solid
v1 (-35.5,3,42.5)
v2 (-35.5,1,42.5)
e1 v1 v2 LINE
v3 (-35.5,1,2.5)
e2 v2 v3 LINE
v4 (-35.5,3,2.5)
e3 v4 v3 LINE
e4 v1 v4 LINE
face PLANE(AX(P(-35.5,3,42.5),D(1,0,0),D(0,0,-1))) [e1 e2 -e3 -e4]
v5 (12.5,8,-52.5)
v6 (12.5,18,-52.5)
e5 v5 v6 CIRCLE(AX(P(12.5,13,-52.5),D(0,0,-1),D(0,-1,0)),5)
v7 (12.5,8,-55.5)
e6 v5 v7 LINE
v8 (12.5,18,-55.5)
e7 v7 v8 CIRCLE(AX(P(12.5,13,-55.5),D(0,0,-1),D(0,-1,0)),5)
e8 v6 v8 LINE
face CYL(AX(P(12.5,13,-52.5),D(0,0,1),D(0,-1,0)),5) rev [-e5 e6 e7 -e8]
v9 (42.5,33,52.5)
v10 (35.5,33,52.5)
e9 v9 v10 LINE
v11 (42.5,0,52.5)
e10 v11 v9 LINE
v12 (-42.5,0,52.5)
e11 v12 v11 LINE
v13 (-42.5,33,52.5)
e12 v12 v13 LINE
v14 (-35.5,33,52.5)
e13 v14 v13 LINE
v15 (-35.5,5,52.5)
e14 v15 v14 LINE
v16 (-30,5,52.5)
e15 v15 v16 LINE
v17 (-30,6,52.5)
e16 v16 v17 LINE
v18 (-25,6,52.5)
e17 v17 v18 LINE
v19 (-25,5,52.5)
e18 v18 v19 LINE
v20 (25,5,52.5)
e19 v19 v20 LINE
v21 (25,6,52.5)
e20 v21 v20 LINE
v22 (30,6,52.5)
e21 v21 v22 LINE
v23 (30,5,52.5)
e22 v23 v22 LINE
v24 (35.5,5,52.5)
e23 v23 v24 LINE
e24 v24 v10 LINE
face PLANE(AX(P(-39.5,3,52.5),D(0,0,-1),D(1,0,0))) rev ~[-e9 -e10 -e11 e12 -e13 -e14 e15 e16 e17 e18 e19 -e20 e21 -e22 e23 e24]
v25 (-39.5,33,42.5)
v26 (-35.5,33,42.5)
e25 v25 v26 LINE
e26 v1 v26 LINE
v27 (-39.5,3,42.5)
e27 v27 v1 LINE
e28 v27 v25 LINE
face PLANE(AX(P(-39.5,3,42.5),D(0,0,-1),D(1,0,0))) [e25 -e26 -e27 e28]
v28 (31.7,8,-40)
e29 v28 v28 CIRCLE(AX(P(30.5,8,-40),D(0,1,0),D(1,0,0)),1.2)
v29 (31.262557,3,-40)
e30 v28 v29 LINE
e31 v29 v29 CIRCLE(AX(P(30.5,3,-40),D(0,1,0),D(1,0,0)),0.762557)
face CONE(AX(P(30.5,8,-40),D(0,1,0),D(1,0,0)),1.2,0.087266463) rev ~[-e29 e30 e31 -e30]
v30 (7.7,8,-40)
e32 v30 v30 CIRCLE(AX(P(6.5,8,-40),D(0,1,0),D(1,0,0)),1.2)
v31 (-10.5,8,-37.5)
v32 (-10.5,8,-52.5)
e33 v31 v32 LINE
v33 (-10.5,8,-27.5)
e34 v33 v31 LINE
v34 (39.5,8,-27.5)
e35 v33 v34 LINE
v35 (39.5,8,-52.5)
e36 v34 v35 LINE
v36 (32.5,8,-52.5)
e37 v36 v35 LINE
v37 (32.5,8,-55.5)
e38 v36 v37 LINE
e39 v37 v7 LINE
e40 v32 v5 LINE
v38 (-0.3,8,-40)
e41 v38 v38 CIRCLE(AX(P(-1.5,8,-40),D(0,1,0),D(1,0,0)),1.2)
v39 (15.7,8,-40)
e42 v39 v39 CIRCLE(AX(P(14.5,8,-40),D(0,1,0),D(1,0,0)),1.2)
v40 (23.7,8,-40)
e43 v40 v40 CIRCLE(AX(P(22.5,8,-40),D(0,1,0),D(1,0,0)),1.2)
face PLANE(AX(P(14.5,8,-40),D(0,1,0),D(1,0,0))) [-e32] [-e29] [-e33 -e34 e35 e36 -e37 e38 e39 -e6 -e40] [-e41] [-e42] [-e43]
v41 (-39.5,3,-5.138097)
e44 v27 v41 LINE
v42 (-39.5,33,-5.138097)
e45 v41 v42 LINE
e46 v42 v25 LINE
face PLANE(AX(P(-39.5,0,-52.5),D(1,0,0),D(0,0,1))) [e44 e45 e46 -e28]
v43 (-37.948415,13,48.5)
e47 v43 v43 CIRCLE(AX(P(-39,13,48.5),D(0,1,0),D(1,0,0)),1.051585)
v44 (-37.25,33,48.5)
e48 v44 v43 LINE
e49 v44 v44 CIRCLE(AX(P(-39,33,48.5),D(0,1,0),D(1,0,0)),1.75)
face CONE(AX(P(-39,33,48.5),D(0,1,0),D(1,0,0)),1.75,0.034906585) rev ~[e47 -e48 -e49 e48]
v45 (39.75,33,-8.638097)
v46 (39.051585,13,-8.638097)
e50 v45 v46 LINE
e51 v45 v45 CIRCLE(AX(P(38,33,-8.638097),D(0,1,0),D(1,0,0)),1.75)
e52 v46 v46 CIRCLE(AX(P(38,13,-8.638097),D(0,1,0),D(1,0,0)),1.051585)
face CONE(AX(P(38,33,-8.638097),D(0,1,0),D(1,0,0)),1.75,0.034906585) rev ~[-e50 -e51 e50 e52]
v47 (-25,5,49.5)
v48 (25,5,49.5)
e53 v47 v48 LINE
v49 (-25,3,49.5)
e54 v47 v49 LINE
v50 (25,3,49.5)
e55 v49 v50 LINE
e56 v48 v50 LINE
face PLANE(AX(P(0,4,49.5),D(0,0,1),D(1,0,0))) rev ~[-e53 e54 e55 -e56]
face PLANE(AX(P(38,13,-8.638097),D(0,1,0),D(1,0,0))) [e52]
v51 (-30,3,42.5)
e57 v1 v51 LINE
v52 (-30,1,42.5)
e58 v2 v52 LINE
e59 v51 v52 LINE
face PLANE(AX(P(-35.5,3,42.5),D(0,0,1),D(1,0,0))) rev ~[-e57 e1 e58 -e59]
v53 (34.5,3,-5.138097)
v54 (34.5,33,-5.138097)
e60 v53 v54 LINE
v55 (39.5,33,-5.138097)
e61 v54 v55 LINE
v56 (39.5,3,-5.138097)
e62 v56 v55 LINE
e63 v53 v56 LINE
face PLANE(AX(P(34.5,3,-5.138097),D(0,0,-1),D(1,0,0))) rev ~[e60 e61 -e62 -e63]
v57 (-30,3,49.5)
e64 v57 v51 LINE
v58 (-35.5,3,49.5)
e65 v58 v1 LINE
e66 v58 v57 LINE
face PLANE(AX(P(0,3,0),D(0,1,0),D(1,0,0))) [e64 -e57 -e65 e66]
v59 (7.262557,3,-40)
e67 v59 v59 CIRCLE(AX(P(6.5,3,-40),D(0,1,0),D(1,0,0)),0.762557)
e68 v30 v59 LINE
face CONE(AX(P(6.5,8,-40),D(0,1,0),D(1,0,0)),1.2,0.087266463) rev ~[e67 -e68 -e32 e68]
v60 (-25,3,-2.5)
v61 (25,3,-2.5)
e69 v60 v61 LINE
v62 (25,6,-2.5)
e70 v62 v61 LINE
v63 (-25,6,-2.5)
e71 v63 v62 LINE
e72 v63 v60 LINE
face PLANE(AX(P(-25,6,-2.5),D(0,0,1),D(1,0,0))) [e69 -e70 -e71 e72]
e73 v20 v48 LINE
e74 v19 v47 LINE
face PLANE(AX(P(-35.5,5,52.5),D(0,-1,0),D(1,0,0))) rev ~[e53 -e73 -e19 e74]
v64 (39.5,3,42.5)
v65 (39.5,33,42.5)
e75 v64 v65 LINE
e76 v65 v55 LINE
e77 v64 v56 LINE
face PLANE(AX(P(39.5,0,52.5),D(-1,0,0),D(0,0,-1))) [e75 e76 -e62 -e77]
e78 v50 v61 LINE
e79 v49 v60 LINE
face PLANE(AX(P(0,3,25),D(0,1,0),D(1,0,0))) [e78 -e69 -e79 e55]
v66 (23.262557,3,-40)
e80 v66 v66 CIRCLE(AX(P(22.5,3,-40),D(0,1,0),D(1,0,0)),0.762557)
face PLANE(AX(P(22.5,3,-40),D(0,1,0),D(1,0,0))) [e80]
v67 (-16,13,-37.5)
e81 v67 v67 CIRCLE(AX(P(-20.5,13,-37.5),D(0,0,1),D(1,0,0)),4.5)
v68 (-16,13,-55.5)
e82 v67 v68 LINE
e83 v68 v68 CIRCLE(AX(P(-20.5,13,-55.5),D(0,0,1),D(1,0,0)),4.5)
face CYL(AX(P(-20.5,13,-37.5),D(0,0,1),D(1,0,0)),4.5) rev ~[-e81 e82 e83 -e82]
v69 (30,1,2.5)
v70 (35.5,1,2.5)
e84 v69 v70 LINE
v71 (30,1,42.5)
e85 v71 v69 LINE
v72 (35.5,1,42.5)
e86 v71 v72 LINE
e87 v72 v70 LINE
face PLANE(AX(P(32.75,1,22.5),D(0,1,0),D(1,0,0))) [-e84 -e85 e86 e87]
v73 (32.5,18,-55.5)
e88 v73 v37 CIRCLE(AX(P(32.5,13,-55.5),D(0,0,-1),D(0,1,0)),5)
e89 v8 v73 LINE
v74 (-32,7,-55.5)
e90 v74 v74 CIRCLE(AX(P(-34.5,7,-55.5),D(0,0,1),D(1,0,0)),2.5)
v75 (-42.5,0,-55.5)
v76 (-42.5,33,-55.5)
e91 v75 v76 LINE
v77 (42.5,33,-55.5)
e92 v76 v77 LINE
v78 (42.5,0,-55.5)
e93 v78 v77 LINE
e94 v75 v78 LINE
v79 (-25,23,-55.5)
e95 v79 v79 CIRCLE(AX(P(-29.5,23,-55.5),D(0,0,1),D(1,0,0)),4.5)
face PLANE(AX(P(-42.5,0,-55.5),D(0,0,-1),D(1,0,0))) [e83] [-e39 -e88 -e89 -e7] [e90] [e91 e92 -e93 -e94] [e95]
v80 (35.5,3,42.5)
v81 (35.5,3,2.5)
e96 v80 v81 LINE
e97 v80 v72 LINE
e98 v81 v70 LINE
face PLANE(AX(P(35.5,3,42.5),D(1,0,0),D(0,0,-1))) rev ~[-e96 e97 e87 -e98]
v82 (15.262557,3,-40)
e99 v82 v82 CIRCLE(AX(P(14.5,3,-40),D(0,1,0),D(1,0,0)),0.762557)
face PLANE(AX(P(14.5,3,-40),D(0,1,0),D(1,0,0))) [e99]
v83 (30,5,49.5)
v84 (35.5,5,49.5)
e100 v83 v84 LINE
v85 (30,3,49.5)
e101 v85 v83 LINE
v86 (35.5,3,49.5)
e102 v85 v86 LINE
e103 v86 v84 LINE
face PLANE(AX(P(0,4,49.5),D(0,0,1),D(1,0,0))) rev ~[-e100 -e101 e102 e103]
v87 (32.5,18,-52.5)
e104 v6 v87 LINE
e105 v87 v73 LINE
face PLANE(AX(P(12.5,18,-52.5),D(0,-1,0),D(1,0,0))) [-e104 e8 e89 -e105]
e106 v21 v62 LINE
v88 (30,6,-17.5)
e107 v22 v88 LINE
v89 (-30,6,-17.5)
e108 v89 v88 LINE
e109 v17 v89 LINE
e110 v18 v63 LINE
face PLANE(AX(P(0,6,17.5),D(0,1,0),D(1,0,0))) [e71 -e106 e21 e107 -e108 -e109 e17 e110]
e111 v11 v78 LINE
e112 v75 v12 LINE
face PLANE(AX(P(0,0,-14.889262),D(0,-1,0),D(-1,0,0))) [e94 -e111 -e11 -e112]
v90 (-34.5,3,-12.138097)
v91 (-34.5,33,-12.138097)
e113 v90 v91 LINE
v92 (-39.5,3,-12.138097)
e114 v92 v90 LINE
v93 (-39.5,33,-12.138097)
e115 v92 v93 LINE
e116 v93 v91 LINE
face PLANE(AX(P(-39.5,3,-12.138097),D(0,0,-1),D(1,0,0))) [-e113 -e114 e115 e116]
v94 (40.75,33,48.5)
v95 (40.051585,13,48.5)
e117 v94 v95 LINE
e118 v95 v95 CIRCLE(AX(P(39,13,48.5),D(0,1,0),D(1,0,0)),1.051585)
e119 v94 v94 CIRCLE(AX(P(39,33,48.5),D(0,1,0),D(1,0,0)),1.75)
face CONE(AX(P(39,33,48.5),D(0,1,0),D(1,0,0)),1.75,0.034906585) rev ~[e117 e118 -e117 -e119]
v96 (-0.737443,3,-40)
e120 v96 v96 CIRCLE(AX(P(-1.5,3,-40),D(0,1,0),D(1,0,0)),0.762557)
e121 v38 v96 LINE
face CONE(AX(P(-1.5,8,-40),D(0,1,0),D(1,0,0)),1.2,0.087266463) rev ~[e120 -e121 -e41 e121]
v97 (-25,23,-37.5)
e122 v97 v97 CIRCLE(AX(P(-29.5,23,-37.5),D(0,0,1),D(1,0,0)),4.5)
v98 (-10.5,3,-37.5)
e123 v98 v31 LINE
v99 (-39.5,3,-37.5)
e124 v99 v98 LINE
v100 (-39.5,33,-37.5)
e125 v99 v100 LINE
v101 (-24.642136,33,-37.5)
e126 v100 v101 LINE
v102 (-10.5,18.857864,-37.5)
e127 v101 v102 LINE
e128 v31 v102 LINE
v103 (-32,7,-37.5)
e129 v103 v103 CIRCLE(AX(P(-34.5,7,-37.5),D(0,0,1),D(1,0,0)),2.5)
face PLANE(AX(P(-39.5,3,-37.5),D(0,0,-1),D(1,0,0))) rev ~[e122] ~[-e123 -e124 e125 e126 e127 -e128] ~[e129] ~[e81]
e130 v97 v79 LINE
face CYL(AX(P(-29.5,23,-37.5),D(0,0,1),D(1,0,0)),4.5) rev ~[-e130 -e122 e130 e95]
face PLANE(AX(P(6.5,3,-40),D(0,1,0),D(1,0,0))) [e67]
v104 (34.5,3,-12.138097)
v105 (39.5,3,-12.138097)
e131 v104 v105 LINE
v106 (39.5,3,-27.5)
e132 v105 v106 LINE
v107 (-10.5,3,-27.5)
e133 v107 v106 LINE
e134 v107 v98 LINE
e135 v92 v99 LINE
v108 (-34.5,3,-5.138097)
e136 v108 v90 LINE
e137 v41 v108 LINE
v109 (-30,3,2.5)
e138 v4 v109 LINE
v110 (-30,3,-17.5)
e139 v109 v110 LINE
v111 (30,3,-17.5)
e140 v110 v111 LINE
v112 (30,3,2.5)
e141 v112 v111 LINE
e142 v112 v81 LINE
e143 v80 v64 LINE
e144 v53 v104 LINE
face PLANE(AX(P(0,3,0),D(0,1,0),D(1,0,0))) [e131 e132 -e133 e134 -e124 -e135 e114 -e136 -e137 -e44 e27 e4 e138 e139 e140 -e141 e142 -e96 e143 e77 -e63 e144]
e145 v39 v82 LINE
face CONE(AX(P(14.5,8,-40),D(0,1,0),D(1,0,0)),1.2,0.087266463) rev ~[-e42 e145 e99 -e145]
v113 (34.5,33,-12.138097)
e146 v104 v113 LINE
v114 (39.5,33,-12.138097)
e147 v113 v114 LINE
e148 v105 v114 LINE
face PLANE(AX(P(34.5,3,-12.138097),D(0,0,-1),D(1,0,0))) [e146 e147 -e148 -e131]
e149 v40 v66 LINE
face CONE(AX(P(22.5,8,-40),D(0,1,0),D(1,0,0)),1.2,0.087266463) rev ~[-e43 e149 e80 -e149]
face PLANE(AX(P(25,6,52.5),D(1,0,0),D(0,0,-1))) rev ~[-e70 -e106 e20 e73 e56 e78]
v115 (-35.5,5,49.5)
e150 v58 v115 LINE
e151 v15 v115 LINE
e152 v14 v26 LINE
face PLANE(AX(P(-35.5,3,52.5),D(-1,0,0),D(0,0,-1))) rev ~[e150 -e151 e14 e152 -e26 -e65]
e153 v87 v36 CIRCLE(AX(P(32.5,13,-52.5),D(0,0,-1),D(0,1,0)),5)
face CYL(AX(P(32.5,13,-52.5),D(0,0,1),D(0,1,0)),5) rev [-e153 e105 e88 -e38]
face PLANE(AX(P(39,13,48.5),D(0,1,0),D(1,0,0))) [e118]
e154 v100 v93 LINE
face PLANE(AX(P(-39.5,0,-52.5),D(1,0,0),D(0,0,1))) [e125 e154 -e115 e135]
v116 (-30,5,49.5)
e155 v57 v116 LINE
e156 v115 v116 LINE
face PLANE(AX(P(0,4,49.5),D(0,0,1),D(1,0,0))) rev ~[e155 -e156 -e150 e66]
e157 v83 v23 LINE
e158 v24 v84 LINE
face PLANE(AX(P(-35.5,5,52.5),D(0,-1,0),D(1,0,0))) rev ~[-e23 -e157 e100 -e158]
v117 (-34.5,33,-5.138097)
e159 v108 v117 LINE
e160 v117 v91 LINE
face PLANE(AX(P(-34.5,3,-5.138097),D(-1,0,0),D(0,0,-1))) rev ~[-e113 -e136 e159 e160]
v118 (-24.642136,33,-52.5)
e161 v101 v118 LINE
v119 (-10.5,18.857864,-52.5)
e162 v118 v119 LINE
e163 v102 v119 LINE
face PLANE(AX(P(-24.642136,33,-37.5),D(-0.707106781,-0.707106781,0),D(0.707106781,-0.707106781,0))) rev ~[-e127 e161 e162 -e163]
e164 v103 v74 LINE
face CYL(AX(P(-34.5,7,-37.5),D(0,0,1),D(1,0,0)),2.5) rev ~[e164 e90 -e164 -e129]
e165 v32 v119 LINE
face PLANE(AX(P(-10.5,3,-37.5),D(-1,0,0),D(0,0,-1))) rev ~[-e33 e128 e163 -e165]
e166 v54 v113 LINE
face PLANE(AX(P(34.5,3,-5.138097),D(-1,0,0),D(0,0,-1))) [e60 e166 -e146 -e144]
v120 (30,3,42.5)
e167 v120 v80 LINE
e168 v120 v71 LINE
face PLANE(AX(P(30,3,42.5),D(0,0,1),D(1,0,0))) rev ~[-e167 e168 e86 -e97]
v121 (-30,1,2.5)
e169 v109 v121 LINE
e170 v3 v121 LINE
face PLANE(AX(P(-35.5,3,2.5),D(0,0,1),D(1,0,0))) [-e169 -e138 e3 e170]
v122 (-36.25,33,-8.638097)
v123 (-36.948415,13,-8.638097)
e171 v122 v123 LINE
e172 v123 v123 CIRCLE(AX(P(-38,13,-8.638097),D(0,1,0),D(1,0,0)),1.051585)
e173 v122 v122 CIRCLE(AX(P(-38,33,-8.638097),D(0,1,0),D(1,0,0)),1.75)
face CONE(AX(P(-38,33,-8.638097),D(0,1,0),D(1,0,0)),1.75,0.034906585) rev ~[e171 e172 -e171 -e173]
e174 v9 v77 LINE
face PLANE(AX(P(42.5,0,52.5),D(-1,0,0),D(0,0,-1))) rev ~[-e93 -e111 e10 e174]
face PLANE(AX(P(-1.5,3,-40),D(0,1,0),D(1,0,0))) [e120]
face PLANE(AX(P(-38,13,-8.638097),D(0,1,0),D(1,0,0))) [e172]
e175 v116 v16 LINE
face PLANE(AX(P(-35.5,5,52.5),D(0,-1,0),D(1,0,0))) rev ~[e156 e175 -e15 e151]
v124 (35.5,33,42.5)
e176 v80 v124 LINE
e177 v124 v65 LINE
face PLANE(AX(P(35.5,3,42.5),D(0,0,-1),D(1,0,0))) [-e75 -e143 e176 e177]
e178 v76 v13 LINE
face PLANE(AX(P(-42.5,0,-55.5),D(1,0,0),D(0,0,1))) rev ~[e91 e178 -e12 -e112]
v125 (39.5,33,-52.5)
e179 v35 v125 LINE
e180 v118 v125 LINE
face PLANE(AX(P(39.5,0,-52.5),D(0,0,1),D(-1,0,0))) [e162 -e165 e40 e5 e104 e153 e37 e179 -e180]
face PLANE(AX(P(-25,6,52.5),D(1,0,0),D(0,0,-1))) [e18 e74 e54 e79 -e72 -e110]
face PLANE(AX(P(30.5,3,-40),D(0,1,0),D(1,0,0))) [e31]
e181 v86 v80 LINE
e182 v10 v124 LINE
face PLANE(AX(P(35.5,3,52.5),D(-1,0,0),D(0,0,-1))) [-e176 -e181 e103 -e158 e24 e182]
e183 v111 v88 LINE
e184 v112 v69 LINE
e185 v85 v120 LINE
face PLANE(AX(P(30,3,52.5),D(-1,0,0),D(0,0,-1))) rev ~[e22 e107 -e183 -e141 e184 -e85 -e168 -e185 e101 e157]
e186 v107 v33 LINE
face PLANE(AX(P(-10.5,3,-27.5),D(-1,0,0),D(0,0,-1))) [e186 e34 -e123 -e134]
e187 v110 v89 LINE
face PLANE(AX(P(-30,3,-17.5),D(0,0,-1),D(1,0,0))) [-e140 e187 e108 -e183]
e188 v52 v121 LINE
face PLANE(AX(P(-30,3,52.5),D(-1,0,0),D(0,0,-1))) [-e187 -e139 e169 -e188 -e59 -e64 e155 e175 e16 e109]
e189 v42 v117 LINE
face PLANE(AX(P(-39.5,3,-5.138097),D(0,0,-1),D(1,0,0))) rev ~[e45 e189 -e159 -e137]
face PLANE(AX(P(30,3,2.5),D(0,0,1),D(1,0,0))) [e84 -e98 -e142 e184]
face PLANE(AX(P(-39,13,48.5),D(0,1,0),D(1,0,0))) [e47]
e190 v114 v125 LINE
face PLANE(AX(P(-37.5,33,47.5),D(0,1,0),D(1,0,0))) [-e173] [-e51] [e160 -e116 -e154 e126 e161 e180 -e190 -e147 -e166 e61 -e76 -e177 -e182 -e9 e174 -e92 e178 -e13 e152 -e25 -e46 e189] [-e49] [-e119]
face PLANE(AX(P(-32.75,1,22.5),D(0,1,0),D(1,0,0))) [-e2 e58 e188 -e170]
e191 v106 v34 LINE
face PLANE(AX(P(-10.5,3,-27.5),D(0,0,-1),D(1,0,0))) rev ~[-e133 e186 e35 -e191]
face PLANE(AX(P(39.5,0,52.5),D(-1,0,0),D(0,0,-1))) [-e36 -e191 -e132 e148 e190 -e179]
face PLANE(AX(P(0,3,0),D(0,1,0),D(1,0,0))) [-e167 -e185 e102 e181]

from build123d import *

# Parameters (mm, degrees)
SKETCH2_W                    = 79
SKETCH2_H                    = 105
BOSS_EXTRUDE1_DEPTH          = 3
SKETCH3_W                    = 60
SKETCH3_H                    = 70
SUPPORT_DEPTH                = 3
SKETCH4_W                    = 50
SKETCH4_H                    = 55
REMOVE_PLASTIC_DEPTH         = 3
SKETCH5_W                    = 50
SKETCH5_H                    = 25
BOSS_EXTRUDE3_DEPTH          = 5
SKETCH6_R                    = 1.2
CUT_EXTRUDE2_DEPTH           = 5
CUT_EXTRUDE2_DRAFT           = -5
CUT_EXTRUDE2_PROFILE_2_DEPTH = 5
CUT_EXTRUDE2_PROFILE_2_DRAFT = -5
CUT_EXTRUDE2_PROFILE_3_DEPTH = 5
CUT_EXTRUDE2_PROFILE_3_DRAFT = -5
CUT_EXTRUDE2_PROFILE_4_DEPTH = 5
CUT_EXTRUDE2_PROFILE_4_DRAFT = -5
CUT_EXTRUDE2_PROFILE_5_DEPTH = 5
CUT_EXTRUDE2_PROFILE_5_DRAFT = -5
SKETCH7_W                    = 29
SKETCH7_H                    = 15
BOSS_EXTRUDE4_DEPTH          = 30
BOSS_EXTRUDE5_DEPTH          = 33
SKETCH8_R                    = 4.5
SKETCH8_R_2                  = 2.5
CUT_EXTRUDE3_DEPTH           = 31
SKETCH10_W                   = 4
SKETCH10_H                   = 10
BOSS_EXTRUDE6_DEPTH          = 30
CUT_EXTRUDE4_DEPTH           = 3
CUT_EXTRUDE5_DEPTH           = 15
SKETCH13_W                   = 5
SKETCH13_H                   = 7
BOSS_EXTRUDE7_DEPTH          = 30
SKETCH14_R                   = 1.75
CUT_EXTRUDE6_DEPTH           = 20
CUT_EXTRUDE6_DRAFT           = -2
CUT_EXTRUDE6_PROFILE_2_DEPTH = 20
CUT_EXTRUDE6_PROFILE_2_DRAFT = -2
CUT_EXTRUDE6_PROFILE_3_DEPTH = 20
CUT_EXTRUDE6_PROFILE_3_DRAFT = -2
CUT_EXTRUDE6_PROFILE_4_DEPTH = 20
CUT_EXTRUDE6_PROFILE_4_DRAFT = -2
SKETCH16_W                   = 5.5
SKETCH16_H                   = 40
SLIDERS_DEPTH                = 2
SKETCH17_W                   = 71
SKETCH17_H                   = 2
BOSS_EXTRUDE9_DEPTH          = 3


with BuildPart() as part:
    # Sketch2 → Boss-Extrude1 (new body)
    with BuildSketch(Plane(origin=(0, 0, 0), x_dir=(1, 0, 0), z_dir=(0, 1, 0))):
        Rectangle(SKETCH2_W, SKETCH2_H)
    extrude(amount=BOSS_EXTRUDE1_DEPTH)

    # Sketch3 → support (add)
    with BuildSketch(Plane(origin=(0, 3, 0), x_dir=(1, 0, 0), z_dir=(0, 1, 0))):
        with Locations((0, -17.5)):
            Rectangle(SKETCH3_W, SKETCH3_H)
    extrude(amount=SUPPORT_DEPTH)

    # Sketch4 → remove plastic (cut)
    with BuildSketch(Plane(origin=(0, 6, 0), x_dir=(1, 0, 0), z_dir=(0, 1, 0))):
        with Locations((0, -25)):
            Rectangle(SKETCH4_W, SKETCH4_H)
    extrude(amount=-REMOVE_PLASTIC_DEPTH, mode=Mode.SUBTRACT)

    # Sketch5 → Boss-Extrude3 (add)
    with BuildSketch(Plane(origin=(0, 3, 0), x_dir=(1, 0, 0), z_dir=(0, 1, 0))):
        with Locations((14.5, 40)):
            Rectangle(SKETCH5_W, SKETCH5_H)
    extrude(amount=BOSS_EXTRUDE3_DEPTH)


with BuildPart() as cut_extrude2_tool:
    # Sketch6 → Cut-Extrude2 (with draft: the straight prism first)
    with BuildSketch(Plane(origin=(0, 8, 0), x_dir=(1, 0, 0), z_dir=(0, 1, 0))):
        with Locations((-1.5, 40)):
            Circle(SKETCH6_R)
    extrude(amount=-CUT_EXTRUDE2_DEPTH)
    # Cut-Extrude2: the draft: its side faces are tilted about the plane it starts from
    cut_extrude2_sides = [cut_extrude2_tool.faces().sort_by_distance(p)[0] for p in [
        (-2.7, 5.5, -40),
    ]]
    draft(cut_extrude2_sides, Plane(origin=(0, 8, 0), x_dir=(1, 0, 0), z_dir=(0, 1, 0)), CUT_EXTRUDE2_DRAFT)


with BuildPart() as part_1:
    add(part.part)

    # Cut-Extrude2: cut by cut_extrude2_tool
    add(cut_extrude2_tool.part, mode=Mode.SUBTRACT)


with BuildPart() as cut_extrude2_profile_2_tool:
    # Sketch6 → Cut-Extrude2 profile 2 (with draft: the straight prism first)
    with BuildSketch(Plane(origin=(0, 8, 0), x_dir=(1, 0, 0), z_dir=(0, 1, 0))):
        with Locations((6.5, 40)):
            Circle(SKETCH6_R)
    extrude(amount=-CUT_EXTRUDE2_PROFILE_2_DEPTH)
    # Cut-Extrude2 profile 2: the draft: its side faces are tilted about the plane it starts from
    cut_extrude2_profile_2_sides = [cut_extrude2_profile_2_tool.faces().sort_by_distance(p)[0] for p in [
        (5.3, 5.5, -40),
    ]]
    draft(cut_extrude2_profile_2_sides, Plane(origin=(0, 8, 0), x_dir=(1, 0, 0), z_dir=(0, 1, 0)), CUT_EXTRUDE2_PROFILE_2_DRAFT)


with BuildPart() as part_2:
    add(part_1.part)

    # Cut-Extrude2 profile 2: cut by cut_extrude2_profile_2_tool
    add(cut_extrude2_profile_2_tool.part, mode=Mode.SUBTRACT)


with BuildPart() as cut_extrude2_profile_3_tool:
    # Sketch6 → Cut-Extrude2 profile 3 (with draft: the straight prism first)
    with BuildSketch(Plane(origin=(0, 8, 0), x_dir=(1, 0, 0), z_dir=(0, 1, 0))):
        with Locations((14.5, 40)):
            Circle(SKETCH6_R)
    extrude(amount=-CUT_EXTRUDE2_PROFILE_3_DEPTH)
    # Cut-Extrude2 profile 3: the draft: its side faces are tilted about the plane it starts from
    cut_extrude2_profile_3_sides = [cut_extrude2_profile_3_tool.faces().sort_by_distance(p)[0] for p in [
        (13.3, 5.5, -40),
    ]]
    draft(cut_extrude2_profile_3_sides, Plane(origin=(0, 8, 0), x_dir=(1, 0, 0), z_dir=(0, 1, 0)), CUT_EXTRUDE2_PROFILE_3_DRAFT)


with BuildPart() as part_3:
    add(part_2.part)

    # Cut-Extrude2 profile 3: cut by cut_extrude2_profile_3_tool
    add(cut_extrude2_profile_3_tool.part, mode=Mode.SUBTRACT)


with BuildPart() as cut_extrude2_profile_4_tool:
    # Sketch6 → Cut-Extrude2 profile 4 (with draft: the straight prism first)
    with BuildSketch(Plane(origin=(0, 8, 0), x_dir=(1, 0, 0), z_dir=(0, 1, 0))):
        with Locations((22.5, 40)):
            Circle(SKETCH6_R)
    extrude(amount=-CUT_EXTRUDE2_PROFILE_4_DEPTH)
    # Cut-Extrude2 profile 4: the draft: its side faces are tilted about the plane it starts from
    cut_extrude2_profile_4_sides = [cut_extrude2_profile_4_tool.faces().sort_by_distance(p)[0] for p in [
        (21.3, 5.5, -40),
    ]]
    draft(cut_extrude2_profile_4_sides, Plane(origin=(0, 8, 0), x_dir=(1, 0, 0), z_dir=(0, 1, 0)), CUT_EXTRUDE2_PROFILE_4_DRAFT)


with BuildPart() as part_4:
    add(part_3.part)

    # Cut-Extrude2 profile 4: cut by cut_extrude2_profile_4_tool
    add(cut_extrude2_profile_4_tool.part, mode=Mode.SUBTRACT)


with BuildPart() as cut_extrude2_profile_5_tool:
    # Sketch6 → Cut-Extrude2 profile 5 (with draft: the straight prism first)
    with BuildSketch(Plane(origin=(0, 8, 0), x_dir=(1, 0, 0), z_dir=(0, 1, 0))):
        with Locations((30.5, 40)):
            Circle(SKETCH6_R)
    extrude(amount=-CUT_EXTRUDE2_PROFILE_5_DEPTH)
    # Cut-Extrude2 profile 5: the draft: its side faces are tilted about the plane it starts from
    cut_extrude2_profile_5_sides = [cut_extrude2_profile_5_tool.faces().sort_by_distance(p)[0] for p in [
        (29.3, 5.5, -40),
    ]]
    draft(cut_extrude2_profile_5_sides, Plane(origin=(0, 8, 0), x_dir=(1, 0, 0), z_dir=(0, 1, 0)), CUT_EXTRUDE2_PROFILE_5_DRAFT)


with BuildPart() as part_5:
    add(part_4.part)

    # Cut-Extrude2 profile 5: cut by cut_extrude2_profile_5_tool
    add(cut_extrude2_profile_5_tool.part, mode=Mode.SUBTRACT)

    # Sketch7 → Boss-Extrude4 (add)
    with BuildSketch(Plane(origin=(0, 3, 0), x_dir=(1, 0, 0), z_dir=(0, 1, 0))):
        with Locations((-25, 45)):
            Rectangle(SKETCH7_W, SKETCH7_H)
    extrude(amount=BOSS_EXTRUDE4_DEPTH)

    # Sketch9 → Boss-Extrude5 (add)
    with BuildSketch(Plane(origin=(0, 0, 0), x_dir=(1, 0, 0), z_dir=(0, 1, 0))):
        Polygon((-39.5, 52.5), (-39.5, -52.5), (-42.5, -52.5), (-42.5, 52.5), (-42.5, 55.5), (42.5, 55.5), (42.5, 52.5), (42.5, -52.5), (39.5, -52.5), (39.5, 52.5), align=None)
    extrude(amount=BOSS_EXTRUDE5_DEPTH)

    # Sketch8 → Cut-Extrude3 (cut)
    with BuildSketch(Plane.XY.offset(-37.5)):
        with Locations((-20.5, 13)):
            Circle(SKETCH8_R)
        with Locations((-34.5, 7)):
            Circle(SKETCH8_R_2)
        with Locations((-29.5, 23)):
            Circle(SKETCH8_R)
    extrude(amount=-CUT_EXTRUDE3_DEPTH, mode=Mode.SUBTRACT)

    # Sketch10 → Boss-Extrude6 (add)
    with BuildSketch(Plane(origin=(0, 3, 0), x_dir=(1, 0, 0), z_dir=(0, 1, 0))):
        with Locations((-37.5, -47.5)):
            Rectangle(SKETCH10_W, SKETCH10_H)
        with Locations((37.5, -47.5)):
            Rectangle(SKETCH10_W, SKETCH10_H)
    extrude(amount=BOSS_EXTRUDE6_DEPTH)

    # Sketch11 → Cut-Extrude4 (cut)
    with BuildSketch(Plane.XY.offset(-52.5)):
        with BuildLine():
            Line((12.5, 18), (32.5, 18))
            ThreePointArc((32.5, 18), (37.5, 13), (32.5, 8))
            Line((32.5, 8), (12.5, 8))
            ThreePointArc((12.5, 8), (7.5, 13), (12.5, 18))
        make_face()
    extrude(amount=-CUT_EXTRUDE4_DEPTH, mode=Mode.SUBTRACT)

    # Sketch12 → Cut-Extrude5 (cut)
    with BuildSketch(Plane.XY.offset(-37.5)):
        Polygon((-24.642135624, 33), (-10.5, 18.857864376), (-10.5, 33), align=None)
    extrude(amount=-CUT_EXTRUDE5_DEPTH, mode=Mode.SUBTRACT)

    # Sketch13 → Boss-Extrude7 (add)
    with BuildSketch(Plane(origin=(0, 3, 0), x_dir=(1, 0, 0), z_dir=(0, 1, 0))):
        with Locations((-37, 8.638097353)):
            Rectangle(SKETCH13_W, SKETCH13_H)
        with Locations((37, 8.638097353)):
            Rectangle(SKETCH13_W, SKETCH13_H)
    extrude(amount=BOSS_EXTRUDE7_DEPTH)


with BuildPart() as cut_extrude6_tool:
    # Sketch14 → Cut-Extrude6 (with draft: the straight prism first)
    with BuildSketch(Plane(origin=(0, 33, 0), x_dir=(1, 0, 0), z_dir=(0, 1, 0))):
        with Locations((-39, -48.5)):
            Circle(SKETCH14_R)
    extrude(amount=-CUT_EXTRUDE6_DEPTH)
    # Cut-Extrude6: the draft: its side faces are tilted about the plane it starts from
    cut_extrude6_sides = [cut_extrude6_tool.faces().sort_by_distance(p)[0] for p in [
        (-40.75, 23, 48.5),
    ]]
    draft(cut_extrude6_sides, Plane(origin=(0, 33, 0), x_dir=(1, 0, 0), z_dir=(0, 1, 0)), CUT_EXTRUDE6_DRAFT)


with BuildPart() as part_6:
    add(part_5.part)

    # Cut-Extrude6: cut by cut_extrude6_tool
    add(cut_extrude6_tool.part, mode=Mode.SUBTRACT)


with BuildPart() as cut_extrude6_profile_2_tool:
    # Sketch14 → Cut-Extrude6 profile 2 (with draft: the straight prism first)
    with BuildSketch(Plane(origin=(0, 33, 0), x_dir=(1, 0, 0), z_dir=(0, 1, 0))):
        with Locations((39, -48.5)):
            Circle(SKETCH14_R)
    extrude(amount=-CUT_EXTRUDE6_PROFILE_2_DEPTH)
    # Cut-Extrude6 profile 2: the draft: its side faces are tilted about the plane it starts from
    cut_extrude6_profile_2_sides = [cut_extrude6_profile_2_tool.faces().sort_by_distance(p)[0] for p in [
        (37.25, 23, 48.5),
    ]]
    draft(cut_extrude6_profile_2_sides, Plane(origin=(0, 33, 0), x_dir=(1, 0, 0), z_dir=(0, 1, 0)), CUT_EXTRUDE6_PROFILE_2_DRAFT)


with BuildPart() as part_7:
    add(part_6.part)

    # Cut-Extrude6 profile 2: cut by cut_extrude6_profile_2_tool
    add(cut_extrude6_profile_2_tool.part, mode=Mode.SUBTRACT)


with BuildPart() as cut_extrude6_profile_3_tool:
    # Sketch14 → Cut-Extrude6 profile 3 (with draft: the straight prism first)
    with BuildSketch(Plane(origin=(0, 33, 0), x_dir=(1, 0, 0), z_dir=(0, 1, 0))):
        with Locations((38, 8.638097353)):
            Circle(SKETCH14_R)
    extrude(amount=-CUT_EXTRUDE6_PROFILE_3_DEPTH)
    # Cut-Extrude6 profile 3: the draft: its side faces are tilted about the plane it starts from
    cut_extrude6_profile_3_sides = [cut_extrude6_profile_3_tool.faces().sort_by_distance(p)[0] for p in [
        (36.25, 23, -8.638097353),
    ]]
    draft(cut_extrude6_profile_3_sides, Plane(origin=(0, 33, 0), x_dir=(1, 0, 0), z_dir=(0, 1, 0)), CUT_EXTRUDE6_PROFILE_3_DRAFT)


with BuildPart() as part_8:
    add(part_7.part)

    # Cut-Extrude6 profile 3: cut by cut_extrude6_profile_3_tool
    add(cut_extrude6_profile_3_tool.part, mode=Mode.SUBTRACT)


with BuildPart() as cut_extrude6_profile_4_tool:
    # Sketch14 → Cut-Extrude6 profile 4 (with draft: the straight prism first)
    with BuildSketch(Plane(origin=(0, 33, 0), x_dir=(1, 0, 0), z_dir=(0, 1, 0))):
        with Locations((-38, 8.638097353)):
            Circle(SKETCH14_R)
    extrude(amount=-CUT_EXTRUDE6_PROFILE_4_DEPTH)
    # Cut-Extrude6 profile 4: the draft: its side faces are tilted about the plane it starts from
    cut_extrude6_profile_4_sides = [cut_extrude6_profile_4_tool.faces().sort_by_distance(p)[0] for p in [
        (-39.75, 23, -8.638097353),
    ]]
    draft(cut_extrude6_profile_4_sides, Plane(origin=(0, 33, 0), x_dir=(1, 0, 0), z_dir=(0, 1, 0)), CUT_EXTRUDE6_PROFILE_4_DRAFT)


with BuildPart() as part_9:
    add(part_8.part)

    # Cut-Extrude6 profile 4: cut by cut_extrude6_profile_4_tool
    add(cut_extrude6_profile_4_tool.part, mode=Mode.SUBTRACT)

    # Sketch16 → Sliders (cut)
    with BuildSketch(Plane(origin=(0, 3, 0), x_dir=(1, 0, 0), z_dir=(0, 1, 0))):
        with Locations((-32.75, -22.5)):
            Rectangle(SKETCH16_W, SKETCH16_H)
        with Locations((32.75, -22.5)):
            Rectangle(SKETCH16_W, SKETCH16_H)
    extrude(amount=-SLIDERS_DEPTH, mode=Mode.SUBTRACT)

    # Sketch17 → Boss-Extrude9 (add)
    with BuildSketch(Plane.XY.offset(52.5)):
        with Locations((0, 4)):
            Rectangle(SKETCH17_W, SKETCH17_H)
    extrude(amount=-BOSS_EXTRUDE9_DEPTH)


solid = part_9.part
